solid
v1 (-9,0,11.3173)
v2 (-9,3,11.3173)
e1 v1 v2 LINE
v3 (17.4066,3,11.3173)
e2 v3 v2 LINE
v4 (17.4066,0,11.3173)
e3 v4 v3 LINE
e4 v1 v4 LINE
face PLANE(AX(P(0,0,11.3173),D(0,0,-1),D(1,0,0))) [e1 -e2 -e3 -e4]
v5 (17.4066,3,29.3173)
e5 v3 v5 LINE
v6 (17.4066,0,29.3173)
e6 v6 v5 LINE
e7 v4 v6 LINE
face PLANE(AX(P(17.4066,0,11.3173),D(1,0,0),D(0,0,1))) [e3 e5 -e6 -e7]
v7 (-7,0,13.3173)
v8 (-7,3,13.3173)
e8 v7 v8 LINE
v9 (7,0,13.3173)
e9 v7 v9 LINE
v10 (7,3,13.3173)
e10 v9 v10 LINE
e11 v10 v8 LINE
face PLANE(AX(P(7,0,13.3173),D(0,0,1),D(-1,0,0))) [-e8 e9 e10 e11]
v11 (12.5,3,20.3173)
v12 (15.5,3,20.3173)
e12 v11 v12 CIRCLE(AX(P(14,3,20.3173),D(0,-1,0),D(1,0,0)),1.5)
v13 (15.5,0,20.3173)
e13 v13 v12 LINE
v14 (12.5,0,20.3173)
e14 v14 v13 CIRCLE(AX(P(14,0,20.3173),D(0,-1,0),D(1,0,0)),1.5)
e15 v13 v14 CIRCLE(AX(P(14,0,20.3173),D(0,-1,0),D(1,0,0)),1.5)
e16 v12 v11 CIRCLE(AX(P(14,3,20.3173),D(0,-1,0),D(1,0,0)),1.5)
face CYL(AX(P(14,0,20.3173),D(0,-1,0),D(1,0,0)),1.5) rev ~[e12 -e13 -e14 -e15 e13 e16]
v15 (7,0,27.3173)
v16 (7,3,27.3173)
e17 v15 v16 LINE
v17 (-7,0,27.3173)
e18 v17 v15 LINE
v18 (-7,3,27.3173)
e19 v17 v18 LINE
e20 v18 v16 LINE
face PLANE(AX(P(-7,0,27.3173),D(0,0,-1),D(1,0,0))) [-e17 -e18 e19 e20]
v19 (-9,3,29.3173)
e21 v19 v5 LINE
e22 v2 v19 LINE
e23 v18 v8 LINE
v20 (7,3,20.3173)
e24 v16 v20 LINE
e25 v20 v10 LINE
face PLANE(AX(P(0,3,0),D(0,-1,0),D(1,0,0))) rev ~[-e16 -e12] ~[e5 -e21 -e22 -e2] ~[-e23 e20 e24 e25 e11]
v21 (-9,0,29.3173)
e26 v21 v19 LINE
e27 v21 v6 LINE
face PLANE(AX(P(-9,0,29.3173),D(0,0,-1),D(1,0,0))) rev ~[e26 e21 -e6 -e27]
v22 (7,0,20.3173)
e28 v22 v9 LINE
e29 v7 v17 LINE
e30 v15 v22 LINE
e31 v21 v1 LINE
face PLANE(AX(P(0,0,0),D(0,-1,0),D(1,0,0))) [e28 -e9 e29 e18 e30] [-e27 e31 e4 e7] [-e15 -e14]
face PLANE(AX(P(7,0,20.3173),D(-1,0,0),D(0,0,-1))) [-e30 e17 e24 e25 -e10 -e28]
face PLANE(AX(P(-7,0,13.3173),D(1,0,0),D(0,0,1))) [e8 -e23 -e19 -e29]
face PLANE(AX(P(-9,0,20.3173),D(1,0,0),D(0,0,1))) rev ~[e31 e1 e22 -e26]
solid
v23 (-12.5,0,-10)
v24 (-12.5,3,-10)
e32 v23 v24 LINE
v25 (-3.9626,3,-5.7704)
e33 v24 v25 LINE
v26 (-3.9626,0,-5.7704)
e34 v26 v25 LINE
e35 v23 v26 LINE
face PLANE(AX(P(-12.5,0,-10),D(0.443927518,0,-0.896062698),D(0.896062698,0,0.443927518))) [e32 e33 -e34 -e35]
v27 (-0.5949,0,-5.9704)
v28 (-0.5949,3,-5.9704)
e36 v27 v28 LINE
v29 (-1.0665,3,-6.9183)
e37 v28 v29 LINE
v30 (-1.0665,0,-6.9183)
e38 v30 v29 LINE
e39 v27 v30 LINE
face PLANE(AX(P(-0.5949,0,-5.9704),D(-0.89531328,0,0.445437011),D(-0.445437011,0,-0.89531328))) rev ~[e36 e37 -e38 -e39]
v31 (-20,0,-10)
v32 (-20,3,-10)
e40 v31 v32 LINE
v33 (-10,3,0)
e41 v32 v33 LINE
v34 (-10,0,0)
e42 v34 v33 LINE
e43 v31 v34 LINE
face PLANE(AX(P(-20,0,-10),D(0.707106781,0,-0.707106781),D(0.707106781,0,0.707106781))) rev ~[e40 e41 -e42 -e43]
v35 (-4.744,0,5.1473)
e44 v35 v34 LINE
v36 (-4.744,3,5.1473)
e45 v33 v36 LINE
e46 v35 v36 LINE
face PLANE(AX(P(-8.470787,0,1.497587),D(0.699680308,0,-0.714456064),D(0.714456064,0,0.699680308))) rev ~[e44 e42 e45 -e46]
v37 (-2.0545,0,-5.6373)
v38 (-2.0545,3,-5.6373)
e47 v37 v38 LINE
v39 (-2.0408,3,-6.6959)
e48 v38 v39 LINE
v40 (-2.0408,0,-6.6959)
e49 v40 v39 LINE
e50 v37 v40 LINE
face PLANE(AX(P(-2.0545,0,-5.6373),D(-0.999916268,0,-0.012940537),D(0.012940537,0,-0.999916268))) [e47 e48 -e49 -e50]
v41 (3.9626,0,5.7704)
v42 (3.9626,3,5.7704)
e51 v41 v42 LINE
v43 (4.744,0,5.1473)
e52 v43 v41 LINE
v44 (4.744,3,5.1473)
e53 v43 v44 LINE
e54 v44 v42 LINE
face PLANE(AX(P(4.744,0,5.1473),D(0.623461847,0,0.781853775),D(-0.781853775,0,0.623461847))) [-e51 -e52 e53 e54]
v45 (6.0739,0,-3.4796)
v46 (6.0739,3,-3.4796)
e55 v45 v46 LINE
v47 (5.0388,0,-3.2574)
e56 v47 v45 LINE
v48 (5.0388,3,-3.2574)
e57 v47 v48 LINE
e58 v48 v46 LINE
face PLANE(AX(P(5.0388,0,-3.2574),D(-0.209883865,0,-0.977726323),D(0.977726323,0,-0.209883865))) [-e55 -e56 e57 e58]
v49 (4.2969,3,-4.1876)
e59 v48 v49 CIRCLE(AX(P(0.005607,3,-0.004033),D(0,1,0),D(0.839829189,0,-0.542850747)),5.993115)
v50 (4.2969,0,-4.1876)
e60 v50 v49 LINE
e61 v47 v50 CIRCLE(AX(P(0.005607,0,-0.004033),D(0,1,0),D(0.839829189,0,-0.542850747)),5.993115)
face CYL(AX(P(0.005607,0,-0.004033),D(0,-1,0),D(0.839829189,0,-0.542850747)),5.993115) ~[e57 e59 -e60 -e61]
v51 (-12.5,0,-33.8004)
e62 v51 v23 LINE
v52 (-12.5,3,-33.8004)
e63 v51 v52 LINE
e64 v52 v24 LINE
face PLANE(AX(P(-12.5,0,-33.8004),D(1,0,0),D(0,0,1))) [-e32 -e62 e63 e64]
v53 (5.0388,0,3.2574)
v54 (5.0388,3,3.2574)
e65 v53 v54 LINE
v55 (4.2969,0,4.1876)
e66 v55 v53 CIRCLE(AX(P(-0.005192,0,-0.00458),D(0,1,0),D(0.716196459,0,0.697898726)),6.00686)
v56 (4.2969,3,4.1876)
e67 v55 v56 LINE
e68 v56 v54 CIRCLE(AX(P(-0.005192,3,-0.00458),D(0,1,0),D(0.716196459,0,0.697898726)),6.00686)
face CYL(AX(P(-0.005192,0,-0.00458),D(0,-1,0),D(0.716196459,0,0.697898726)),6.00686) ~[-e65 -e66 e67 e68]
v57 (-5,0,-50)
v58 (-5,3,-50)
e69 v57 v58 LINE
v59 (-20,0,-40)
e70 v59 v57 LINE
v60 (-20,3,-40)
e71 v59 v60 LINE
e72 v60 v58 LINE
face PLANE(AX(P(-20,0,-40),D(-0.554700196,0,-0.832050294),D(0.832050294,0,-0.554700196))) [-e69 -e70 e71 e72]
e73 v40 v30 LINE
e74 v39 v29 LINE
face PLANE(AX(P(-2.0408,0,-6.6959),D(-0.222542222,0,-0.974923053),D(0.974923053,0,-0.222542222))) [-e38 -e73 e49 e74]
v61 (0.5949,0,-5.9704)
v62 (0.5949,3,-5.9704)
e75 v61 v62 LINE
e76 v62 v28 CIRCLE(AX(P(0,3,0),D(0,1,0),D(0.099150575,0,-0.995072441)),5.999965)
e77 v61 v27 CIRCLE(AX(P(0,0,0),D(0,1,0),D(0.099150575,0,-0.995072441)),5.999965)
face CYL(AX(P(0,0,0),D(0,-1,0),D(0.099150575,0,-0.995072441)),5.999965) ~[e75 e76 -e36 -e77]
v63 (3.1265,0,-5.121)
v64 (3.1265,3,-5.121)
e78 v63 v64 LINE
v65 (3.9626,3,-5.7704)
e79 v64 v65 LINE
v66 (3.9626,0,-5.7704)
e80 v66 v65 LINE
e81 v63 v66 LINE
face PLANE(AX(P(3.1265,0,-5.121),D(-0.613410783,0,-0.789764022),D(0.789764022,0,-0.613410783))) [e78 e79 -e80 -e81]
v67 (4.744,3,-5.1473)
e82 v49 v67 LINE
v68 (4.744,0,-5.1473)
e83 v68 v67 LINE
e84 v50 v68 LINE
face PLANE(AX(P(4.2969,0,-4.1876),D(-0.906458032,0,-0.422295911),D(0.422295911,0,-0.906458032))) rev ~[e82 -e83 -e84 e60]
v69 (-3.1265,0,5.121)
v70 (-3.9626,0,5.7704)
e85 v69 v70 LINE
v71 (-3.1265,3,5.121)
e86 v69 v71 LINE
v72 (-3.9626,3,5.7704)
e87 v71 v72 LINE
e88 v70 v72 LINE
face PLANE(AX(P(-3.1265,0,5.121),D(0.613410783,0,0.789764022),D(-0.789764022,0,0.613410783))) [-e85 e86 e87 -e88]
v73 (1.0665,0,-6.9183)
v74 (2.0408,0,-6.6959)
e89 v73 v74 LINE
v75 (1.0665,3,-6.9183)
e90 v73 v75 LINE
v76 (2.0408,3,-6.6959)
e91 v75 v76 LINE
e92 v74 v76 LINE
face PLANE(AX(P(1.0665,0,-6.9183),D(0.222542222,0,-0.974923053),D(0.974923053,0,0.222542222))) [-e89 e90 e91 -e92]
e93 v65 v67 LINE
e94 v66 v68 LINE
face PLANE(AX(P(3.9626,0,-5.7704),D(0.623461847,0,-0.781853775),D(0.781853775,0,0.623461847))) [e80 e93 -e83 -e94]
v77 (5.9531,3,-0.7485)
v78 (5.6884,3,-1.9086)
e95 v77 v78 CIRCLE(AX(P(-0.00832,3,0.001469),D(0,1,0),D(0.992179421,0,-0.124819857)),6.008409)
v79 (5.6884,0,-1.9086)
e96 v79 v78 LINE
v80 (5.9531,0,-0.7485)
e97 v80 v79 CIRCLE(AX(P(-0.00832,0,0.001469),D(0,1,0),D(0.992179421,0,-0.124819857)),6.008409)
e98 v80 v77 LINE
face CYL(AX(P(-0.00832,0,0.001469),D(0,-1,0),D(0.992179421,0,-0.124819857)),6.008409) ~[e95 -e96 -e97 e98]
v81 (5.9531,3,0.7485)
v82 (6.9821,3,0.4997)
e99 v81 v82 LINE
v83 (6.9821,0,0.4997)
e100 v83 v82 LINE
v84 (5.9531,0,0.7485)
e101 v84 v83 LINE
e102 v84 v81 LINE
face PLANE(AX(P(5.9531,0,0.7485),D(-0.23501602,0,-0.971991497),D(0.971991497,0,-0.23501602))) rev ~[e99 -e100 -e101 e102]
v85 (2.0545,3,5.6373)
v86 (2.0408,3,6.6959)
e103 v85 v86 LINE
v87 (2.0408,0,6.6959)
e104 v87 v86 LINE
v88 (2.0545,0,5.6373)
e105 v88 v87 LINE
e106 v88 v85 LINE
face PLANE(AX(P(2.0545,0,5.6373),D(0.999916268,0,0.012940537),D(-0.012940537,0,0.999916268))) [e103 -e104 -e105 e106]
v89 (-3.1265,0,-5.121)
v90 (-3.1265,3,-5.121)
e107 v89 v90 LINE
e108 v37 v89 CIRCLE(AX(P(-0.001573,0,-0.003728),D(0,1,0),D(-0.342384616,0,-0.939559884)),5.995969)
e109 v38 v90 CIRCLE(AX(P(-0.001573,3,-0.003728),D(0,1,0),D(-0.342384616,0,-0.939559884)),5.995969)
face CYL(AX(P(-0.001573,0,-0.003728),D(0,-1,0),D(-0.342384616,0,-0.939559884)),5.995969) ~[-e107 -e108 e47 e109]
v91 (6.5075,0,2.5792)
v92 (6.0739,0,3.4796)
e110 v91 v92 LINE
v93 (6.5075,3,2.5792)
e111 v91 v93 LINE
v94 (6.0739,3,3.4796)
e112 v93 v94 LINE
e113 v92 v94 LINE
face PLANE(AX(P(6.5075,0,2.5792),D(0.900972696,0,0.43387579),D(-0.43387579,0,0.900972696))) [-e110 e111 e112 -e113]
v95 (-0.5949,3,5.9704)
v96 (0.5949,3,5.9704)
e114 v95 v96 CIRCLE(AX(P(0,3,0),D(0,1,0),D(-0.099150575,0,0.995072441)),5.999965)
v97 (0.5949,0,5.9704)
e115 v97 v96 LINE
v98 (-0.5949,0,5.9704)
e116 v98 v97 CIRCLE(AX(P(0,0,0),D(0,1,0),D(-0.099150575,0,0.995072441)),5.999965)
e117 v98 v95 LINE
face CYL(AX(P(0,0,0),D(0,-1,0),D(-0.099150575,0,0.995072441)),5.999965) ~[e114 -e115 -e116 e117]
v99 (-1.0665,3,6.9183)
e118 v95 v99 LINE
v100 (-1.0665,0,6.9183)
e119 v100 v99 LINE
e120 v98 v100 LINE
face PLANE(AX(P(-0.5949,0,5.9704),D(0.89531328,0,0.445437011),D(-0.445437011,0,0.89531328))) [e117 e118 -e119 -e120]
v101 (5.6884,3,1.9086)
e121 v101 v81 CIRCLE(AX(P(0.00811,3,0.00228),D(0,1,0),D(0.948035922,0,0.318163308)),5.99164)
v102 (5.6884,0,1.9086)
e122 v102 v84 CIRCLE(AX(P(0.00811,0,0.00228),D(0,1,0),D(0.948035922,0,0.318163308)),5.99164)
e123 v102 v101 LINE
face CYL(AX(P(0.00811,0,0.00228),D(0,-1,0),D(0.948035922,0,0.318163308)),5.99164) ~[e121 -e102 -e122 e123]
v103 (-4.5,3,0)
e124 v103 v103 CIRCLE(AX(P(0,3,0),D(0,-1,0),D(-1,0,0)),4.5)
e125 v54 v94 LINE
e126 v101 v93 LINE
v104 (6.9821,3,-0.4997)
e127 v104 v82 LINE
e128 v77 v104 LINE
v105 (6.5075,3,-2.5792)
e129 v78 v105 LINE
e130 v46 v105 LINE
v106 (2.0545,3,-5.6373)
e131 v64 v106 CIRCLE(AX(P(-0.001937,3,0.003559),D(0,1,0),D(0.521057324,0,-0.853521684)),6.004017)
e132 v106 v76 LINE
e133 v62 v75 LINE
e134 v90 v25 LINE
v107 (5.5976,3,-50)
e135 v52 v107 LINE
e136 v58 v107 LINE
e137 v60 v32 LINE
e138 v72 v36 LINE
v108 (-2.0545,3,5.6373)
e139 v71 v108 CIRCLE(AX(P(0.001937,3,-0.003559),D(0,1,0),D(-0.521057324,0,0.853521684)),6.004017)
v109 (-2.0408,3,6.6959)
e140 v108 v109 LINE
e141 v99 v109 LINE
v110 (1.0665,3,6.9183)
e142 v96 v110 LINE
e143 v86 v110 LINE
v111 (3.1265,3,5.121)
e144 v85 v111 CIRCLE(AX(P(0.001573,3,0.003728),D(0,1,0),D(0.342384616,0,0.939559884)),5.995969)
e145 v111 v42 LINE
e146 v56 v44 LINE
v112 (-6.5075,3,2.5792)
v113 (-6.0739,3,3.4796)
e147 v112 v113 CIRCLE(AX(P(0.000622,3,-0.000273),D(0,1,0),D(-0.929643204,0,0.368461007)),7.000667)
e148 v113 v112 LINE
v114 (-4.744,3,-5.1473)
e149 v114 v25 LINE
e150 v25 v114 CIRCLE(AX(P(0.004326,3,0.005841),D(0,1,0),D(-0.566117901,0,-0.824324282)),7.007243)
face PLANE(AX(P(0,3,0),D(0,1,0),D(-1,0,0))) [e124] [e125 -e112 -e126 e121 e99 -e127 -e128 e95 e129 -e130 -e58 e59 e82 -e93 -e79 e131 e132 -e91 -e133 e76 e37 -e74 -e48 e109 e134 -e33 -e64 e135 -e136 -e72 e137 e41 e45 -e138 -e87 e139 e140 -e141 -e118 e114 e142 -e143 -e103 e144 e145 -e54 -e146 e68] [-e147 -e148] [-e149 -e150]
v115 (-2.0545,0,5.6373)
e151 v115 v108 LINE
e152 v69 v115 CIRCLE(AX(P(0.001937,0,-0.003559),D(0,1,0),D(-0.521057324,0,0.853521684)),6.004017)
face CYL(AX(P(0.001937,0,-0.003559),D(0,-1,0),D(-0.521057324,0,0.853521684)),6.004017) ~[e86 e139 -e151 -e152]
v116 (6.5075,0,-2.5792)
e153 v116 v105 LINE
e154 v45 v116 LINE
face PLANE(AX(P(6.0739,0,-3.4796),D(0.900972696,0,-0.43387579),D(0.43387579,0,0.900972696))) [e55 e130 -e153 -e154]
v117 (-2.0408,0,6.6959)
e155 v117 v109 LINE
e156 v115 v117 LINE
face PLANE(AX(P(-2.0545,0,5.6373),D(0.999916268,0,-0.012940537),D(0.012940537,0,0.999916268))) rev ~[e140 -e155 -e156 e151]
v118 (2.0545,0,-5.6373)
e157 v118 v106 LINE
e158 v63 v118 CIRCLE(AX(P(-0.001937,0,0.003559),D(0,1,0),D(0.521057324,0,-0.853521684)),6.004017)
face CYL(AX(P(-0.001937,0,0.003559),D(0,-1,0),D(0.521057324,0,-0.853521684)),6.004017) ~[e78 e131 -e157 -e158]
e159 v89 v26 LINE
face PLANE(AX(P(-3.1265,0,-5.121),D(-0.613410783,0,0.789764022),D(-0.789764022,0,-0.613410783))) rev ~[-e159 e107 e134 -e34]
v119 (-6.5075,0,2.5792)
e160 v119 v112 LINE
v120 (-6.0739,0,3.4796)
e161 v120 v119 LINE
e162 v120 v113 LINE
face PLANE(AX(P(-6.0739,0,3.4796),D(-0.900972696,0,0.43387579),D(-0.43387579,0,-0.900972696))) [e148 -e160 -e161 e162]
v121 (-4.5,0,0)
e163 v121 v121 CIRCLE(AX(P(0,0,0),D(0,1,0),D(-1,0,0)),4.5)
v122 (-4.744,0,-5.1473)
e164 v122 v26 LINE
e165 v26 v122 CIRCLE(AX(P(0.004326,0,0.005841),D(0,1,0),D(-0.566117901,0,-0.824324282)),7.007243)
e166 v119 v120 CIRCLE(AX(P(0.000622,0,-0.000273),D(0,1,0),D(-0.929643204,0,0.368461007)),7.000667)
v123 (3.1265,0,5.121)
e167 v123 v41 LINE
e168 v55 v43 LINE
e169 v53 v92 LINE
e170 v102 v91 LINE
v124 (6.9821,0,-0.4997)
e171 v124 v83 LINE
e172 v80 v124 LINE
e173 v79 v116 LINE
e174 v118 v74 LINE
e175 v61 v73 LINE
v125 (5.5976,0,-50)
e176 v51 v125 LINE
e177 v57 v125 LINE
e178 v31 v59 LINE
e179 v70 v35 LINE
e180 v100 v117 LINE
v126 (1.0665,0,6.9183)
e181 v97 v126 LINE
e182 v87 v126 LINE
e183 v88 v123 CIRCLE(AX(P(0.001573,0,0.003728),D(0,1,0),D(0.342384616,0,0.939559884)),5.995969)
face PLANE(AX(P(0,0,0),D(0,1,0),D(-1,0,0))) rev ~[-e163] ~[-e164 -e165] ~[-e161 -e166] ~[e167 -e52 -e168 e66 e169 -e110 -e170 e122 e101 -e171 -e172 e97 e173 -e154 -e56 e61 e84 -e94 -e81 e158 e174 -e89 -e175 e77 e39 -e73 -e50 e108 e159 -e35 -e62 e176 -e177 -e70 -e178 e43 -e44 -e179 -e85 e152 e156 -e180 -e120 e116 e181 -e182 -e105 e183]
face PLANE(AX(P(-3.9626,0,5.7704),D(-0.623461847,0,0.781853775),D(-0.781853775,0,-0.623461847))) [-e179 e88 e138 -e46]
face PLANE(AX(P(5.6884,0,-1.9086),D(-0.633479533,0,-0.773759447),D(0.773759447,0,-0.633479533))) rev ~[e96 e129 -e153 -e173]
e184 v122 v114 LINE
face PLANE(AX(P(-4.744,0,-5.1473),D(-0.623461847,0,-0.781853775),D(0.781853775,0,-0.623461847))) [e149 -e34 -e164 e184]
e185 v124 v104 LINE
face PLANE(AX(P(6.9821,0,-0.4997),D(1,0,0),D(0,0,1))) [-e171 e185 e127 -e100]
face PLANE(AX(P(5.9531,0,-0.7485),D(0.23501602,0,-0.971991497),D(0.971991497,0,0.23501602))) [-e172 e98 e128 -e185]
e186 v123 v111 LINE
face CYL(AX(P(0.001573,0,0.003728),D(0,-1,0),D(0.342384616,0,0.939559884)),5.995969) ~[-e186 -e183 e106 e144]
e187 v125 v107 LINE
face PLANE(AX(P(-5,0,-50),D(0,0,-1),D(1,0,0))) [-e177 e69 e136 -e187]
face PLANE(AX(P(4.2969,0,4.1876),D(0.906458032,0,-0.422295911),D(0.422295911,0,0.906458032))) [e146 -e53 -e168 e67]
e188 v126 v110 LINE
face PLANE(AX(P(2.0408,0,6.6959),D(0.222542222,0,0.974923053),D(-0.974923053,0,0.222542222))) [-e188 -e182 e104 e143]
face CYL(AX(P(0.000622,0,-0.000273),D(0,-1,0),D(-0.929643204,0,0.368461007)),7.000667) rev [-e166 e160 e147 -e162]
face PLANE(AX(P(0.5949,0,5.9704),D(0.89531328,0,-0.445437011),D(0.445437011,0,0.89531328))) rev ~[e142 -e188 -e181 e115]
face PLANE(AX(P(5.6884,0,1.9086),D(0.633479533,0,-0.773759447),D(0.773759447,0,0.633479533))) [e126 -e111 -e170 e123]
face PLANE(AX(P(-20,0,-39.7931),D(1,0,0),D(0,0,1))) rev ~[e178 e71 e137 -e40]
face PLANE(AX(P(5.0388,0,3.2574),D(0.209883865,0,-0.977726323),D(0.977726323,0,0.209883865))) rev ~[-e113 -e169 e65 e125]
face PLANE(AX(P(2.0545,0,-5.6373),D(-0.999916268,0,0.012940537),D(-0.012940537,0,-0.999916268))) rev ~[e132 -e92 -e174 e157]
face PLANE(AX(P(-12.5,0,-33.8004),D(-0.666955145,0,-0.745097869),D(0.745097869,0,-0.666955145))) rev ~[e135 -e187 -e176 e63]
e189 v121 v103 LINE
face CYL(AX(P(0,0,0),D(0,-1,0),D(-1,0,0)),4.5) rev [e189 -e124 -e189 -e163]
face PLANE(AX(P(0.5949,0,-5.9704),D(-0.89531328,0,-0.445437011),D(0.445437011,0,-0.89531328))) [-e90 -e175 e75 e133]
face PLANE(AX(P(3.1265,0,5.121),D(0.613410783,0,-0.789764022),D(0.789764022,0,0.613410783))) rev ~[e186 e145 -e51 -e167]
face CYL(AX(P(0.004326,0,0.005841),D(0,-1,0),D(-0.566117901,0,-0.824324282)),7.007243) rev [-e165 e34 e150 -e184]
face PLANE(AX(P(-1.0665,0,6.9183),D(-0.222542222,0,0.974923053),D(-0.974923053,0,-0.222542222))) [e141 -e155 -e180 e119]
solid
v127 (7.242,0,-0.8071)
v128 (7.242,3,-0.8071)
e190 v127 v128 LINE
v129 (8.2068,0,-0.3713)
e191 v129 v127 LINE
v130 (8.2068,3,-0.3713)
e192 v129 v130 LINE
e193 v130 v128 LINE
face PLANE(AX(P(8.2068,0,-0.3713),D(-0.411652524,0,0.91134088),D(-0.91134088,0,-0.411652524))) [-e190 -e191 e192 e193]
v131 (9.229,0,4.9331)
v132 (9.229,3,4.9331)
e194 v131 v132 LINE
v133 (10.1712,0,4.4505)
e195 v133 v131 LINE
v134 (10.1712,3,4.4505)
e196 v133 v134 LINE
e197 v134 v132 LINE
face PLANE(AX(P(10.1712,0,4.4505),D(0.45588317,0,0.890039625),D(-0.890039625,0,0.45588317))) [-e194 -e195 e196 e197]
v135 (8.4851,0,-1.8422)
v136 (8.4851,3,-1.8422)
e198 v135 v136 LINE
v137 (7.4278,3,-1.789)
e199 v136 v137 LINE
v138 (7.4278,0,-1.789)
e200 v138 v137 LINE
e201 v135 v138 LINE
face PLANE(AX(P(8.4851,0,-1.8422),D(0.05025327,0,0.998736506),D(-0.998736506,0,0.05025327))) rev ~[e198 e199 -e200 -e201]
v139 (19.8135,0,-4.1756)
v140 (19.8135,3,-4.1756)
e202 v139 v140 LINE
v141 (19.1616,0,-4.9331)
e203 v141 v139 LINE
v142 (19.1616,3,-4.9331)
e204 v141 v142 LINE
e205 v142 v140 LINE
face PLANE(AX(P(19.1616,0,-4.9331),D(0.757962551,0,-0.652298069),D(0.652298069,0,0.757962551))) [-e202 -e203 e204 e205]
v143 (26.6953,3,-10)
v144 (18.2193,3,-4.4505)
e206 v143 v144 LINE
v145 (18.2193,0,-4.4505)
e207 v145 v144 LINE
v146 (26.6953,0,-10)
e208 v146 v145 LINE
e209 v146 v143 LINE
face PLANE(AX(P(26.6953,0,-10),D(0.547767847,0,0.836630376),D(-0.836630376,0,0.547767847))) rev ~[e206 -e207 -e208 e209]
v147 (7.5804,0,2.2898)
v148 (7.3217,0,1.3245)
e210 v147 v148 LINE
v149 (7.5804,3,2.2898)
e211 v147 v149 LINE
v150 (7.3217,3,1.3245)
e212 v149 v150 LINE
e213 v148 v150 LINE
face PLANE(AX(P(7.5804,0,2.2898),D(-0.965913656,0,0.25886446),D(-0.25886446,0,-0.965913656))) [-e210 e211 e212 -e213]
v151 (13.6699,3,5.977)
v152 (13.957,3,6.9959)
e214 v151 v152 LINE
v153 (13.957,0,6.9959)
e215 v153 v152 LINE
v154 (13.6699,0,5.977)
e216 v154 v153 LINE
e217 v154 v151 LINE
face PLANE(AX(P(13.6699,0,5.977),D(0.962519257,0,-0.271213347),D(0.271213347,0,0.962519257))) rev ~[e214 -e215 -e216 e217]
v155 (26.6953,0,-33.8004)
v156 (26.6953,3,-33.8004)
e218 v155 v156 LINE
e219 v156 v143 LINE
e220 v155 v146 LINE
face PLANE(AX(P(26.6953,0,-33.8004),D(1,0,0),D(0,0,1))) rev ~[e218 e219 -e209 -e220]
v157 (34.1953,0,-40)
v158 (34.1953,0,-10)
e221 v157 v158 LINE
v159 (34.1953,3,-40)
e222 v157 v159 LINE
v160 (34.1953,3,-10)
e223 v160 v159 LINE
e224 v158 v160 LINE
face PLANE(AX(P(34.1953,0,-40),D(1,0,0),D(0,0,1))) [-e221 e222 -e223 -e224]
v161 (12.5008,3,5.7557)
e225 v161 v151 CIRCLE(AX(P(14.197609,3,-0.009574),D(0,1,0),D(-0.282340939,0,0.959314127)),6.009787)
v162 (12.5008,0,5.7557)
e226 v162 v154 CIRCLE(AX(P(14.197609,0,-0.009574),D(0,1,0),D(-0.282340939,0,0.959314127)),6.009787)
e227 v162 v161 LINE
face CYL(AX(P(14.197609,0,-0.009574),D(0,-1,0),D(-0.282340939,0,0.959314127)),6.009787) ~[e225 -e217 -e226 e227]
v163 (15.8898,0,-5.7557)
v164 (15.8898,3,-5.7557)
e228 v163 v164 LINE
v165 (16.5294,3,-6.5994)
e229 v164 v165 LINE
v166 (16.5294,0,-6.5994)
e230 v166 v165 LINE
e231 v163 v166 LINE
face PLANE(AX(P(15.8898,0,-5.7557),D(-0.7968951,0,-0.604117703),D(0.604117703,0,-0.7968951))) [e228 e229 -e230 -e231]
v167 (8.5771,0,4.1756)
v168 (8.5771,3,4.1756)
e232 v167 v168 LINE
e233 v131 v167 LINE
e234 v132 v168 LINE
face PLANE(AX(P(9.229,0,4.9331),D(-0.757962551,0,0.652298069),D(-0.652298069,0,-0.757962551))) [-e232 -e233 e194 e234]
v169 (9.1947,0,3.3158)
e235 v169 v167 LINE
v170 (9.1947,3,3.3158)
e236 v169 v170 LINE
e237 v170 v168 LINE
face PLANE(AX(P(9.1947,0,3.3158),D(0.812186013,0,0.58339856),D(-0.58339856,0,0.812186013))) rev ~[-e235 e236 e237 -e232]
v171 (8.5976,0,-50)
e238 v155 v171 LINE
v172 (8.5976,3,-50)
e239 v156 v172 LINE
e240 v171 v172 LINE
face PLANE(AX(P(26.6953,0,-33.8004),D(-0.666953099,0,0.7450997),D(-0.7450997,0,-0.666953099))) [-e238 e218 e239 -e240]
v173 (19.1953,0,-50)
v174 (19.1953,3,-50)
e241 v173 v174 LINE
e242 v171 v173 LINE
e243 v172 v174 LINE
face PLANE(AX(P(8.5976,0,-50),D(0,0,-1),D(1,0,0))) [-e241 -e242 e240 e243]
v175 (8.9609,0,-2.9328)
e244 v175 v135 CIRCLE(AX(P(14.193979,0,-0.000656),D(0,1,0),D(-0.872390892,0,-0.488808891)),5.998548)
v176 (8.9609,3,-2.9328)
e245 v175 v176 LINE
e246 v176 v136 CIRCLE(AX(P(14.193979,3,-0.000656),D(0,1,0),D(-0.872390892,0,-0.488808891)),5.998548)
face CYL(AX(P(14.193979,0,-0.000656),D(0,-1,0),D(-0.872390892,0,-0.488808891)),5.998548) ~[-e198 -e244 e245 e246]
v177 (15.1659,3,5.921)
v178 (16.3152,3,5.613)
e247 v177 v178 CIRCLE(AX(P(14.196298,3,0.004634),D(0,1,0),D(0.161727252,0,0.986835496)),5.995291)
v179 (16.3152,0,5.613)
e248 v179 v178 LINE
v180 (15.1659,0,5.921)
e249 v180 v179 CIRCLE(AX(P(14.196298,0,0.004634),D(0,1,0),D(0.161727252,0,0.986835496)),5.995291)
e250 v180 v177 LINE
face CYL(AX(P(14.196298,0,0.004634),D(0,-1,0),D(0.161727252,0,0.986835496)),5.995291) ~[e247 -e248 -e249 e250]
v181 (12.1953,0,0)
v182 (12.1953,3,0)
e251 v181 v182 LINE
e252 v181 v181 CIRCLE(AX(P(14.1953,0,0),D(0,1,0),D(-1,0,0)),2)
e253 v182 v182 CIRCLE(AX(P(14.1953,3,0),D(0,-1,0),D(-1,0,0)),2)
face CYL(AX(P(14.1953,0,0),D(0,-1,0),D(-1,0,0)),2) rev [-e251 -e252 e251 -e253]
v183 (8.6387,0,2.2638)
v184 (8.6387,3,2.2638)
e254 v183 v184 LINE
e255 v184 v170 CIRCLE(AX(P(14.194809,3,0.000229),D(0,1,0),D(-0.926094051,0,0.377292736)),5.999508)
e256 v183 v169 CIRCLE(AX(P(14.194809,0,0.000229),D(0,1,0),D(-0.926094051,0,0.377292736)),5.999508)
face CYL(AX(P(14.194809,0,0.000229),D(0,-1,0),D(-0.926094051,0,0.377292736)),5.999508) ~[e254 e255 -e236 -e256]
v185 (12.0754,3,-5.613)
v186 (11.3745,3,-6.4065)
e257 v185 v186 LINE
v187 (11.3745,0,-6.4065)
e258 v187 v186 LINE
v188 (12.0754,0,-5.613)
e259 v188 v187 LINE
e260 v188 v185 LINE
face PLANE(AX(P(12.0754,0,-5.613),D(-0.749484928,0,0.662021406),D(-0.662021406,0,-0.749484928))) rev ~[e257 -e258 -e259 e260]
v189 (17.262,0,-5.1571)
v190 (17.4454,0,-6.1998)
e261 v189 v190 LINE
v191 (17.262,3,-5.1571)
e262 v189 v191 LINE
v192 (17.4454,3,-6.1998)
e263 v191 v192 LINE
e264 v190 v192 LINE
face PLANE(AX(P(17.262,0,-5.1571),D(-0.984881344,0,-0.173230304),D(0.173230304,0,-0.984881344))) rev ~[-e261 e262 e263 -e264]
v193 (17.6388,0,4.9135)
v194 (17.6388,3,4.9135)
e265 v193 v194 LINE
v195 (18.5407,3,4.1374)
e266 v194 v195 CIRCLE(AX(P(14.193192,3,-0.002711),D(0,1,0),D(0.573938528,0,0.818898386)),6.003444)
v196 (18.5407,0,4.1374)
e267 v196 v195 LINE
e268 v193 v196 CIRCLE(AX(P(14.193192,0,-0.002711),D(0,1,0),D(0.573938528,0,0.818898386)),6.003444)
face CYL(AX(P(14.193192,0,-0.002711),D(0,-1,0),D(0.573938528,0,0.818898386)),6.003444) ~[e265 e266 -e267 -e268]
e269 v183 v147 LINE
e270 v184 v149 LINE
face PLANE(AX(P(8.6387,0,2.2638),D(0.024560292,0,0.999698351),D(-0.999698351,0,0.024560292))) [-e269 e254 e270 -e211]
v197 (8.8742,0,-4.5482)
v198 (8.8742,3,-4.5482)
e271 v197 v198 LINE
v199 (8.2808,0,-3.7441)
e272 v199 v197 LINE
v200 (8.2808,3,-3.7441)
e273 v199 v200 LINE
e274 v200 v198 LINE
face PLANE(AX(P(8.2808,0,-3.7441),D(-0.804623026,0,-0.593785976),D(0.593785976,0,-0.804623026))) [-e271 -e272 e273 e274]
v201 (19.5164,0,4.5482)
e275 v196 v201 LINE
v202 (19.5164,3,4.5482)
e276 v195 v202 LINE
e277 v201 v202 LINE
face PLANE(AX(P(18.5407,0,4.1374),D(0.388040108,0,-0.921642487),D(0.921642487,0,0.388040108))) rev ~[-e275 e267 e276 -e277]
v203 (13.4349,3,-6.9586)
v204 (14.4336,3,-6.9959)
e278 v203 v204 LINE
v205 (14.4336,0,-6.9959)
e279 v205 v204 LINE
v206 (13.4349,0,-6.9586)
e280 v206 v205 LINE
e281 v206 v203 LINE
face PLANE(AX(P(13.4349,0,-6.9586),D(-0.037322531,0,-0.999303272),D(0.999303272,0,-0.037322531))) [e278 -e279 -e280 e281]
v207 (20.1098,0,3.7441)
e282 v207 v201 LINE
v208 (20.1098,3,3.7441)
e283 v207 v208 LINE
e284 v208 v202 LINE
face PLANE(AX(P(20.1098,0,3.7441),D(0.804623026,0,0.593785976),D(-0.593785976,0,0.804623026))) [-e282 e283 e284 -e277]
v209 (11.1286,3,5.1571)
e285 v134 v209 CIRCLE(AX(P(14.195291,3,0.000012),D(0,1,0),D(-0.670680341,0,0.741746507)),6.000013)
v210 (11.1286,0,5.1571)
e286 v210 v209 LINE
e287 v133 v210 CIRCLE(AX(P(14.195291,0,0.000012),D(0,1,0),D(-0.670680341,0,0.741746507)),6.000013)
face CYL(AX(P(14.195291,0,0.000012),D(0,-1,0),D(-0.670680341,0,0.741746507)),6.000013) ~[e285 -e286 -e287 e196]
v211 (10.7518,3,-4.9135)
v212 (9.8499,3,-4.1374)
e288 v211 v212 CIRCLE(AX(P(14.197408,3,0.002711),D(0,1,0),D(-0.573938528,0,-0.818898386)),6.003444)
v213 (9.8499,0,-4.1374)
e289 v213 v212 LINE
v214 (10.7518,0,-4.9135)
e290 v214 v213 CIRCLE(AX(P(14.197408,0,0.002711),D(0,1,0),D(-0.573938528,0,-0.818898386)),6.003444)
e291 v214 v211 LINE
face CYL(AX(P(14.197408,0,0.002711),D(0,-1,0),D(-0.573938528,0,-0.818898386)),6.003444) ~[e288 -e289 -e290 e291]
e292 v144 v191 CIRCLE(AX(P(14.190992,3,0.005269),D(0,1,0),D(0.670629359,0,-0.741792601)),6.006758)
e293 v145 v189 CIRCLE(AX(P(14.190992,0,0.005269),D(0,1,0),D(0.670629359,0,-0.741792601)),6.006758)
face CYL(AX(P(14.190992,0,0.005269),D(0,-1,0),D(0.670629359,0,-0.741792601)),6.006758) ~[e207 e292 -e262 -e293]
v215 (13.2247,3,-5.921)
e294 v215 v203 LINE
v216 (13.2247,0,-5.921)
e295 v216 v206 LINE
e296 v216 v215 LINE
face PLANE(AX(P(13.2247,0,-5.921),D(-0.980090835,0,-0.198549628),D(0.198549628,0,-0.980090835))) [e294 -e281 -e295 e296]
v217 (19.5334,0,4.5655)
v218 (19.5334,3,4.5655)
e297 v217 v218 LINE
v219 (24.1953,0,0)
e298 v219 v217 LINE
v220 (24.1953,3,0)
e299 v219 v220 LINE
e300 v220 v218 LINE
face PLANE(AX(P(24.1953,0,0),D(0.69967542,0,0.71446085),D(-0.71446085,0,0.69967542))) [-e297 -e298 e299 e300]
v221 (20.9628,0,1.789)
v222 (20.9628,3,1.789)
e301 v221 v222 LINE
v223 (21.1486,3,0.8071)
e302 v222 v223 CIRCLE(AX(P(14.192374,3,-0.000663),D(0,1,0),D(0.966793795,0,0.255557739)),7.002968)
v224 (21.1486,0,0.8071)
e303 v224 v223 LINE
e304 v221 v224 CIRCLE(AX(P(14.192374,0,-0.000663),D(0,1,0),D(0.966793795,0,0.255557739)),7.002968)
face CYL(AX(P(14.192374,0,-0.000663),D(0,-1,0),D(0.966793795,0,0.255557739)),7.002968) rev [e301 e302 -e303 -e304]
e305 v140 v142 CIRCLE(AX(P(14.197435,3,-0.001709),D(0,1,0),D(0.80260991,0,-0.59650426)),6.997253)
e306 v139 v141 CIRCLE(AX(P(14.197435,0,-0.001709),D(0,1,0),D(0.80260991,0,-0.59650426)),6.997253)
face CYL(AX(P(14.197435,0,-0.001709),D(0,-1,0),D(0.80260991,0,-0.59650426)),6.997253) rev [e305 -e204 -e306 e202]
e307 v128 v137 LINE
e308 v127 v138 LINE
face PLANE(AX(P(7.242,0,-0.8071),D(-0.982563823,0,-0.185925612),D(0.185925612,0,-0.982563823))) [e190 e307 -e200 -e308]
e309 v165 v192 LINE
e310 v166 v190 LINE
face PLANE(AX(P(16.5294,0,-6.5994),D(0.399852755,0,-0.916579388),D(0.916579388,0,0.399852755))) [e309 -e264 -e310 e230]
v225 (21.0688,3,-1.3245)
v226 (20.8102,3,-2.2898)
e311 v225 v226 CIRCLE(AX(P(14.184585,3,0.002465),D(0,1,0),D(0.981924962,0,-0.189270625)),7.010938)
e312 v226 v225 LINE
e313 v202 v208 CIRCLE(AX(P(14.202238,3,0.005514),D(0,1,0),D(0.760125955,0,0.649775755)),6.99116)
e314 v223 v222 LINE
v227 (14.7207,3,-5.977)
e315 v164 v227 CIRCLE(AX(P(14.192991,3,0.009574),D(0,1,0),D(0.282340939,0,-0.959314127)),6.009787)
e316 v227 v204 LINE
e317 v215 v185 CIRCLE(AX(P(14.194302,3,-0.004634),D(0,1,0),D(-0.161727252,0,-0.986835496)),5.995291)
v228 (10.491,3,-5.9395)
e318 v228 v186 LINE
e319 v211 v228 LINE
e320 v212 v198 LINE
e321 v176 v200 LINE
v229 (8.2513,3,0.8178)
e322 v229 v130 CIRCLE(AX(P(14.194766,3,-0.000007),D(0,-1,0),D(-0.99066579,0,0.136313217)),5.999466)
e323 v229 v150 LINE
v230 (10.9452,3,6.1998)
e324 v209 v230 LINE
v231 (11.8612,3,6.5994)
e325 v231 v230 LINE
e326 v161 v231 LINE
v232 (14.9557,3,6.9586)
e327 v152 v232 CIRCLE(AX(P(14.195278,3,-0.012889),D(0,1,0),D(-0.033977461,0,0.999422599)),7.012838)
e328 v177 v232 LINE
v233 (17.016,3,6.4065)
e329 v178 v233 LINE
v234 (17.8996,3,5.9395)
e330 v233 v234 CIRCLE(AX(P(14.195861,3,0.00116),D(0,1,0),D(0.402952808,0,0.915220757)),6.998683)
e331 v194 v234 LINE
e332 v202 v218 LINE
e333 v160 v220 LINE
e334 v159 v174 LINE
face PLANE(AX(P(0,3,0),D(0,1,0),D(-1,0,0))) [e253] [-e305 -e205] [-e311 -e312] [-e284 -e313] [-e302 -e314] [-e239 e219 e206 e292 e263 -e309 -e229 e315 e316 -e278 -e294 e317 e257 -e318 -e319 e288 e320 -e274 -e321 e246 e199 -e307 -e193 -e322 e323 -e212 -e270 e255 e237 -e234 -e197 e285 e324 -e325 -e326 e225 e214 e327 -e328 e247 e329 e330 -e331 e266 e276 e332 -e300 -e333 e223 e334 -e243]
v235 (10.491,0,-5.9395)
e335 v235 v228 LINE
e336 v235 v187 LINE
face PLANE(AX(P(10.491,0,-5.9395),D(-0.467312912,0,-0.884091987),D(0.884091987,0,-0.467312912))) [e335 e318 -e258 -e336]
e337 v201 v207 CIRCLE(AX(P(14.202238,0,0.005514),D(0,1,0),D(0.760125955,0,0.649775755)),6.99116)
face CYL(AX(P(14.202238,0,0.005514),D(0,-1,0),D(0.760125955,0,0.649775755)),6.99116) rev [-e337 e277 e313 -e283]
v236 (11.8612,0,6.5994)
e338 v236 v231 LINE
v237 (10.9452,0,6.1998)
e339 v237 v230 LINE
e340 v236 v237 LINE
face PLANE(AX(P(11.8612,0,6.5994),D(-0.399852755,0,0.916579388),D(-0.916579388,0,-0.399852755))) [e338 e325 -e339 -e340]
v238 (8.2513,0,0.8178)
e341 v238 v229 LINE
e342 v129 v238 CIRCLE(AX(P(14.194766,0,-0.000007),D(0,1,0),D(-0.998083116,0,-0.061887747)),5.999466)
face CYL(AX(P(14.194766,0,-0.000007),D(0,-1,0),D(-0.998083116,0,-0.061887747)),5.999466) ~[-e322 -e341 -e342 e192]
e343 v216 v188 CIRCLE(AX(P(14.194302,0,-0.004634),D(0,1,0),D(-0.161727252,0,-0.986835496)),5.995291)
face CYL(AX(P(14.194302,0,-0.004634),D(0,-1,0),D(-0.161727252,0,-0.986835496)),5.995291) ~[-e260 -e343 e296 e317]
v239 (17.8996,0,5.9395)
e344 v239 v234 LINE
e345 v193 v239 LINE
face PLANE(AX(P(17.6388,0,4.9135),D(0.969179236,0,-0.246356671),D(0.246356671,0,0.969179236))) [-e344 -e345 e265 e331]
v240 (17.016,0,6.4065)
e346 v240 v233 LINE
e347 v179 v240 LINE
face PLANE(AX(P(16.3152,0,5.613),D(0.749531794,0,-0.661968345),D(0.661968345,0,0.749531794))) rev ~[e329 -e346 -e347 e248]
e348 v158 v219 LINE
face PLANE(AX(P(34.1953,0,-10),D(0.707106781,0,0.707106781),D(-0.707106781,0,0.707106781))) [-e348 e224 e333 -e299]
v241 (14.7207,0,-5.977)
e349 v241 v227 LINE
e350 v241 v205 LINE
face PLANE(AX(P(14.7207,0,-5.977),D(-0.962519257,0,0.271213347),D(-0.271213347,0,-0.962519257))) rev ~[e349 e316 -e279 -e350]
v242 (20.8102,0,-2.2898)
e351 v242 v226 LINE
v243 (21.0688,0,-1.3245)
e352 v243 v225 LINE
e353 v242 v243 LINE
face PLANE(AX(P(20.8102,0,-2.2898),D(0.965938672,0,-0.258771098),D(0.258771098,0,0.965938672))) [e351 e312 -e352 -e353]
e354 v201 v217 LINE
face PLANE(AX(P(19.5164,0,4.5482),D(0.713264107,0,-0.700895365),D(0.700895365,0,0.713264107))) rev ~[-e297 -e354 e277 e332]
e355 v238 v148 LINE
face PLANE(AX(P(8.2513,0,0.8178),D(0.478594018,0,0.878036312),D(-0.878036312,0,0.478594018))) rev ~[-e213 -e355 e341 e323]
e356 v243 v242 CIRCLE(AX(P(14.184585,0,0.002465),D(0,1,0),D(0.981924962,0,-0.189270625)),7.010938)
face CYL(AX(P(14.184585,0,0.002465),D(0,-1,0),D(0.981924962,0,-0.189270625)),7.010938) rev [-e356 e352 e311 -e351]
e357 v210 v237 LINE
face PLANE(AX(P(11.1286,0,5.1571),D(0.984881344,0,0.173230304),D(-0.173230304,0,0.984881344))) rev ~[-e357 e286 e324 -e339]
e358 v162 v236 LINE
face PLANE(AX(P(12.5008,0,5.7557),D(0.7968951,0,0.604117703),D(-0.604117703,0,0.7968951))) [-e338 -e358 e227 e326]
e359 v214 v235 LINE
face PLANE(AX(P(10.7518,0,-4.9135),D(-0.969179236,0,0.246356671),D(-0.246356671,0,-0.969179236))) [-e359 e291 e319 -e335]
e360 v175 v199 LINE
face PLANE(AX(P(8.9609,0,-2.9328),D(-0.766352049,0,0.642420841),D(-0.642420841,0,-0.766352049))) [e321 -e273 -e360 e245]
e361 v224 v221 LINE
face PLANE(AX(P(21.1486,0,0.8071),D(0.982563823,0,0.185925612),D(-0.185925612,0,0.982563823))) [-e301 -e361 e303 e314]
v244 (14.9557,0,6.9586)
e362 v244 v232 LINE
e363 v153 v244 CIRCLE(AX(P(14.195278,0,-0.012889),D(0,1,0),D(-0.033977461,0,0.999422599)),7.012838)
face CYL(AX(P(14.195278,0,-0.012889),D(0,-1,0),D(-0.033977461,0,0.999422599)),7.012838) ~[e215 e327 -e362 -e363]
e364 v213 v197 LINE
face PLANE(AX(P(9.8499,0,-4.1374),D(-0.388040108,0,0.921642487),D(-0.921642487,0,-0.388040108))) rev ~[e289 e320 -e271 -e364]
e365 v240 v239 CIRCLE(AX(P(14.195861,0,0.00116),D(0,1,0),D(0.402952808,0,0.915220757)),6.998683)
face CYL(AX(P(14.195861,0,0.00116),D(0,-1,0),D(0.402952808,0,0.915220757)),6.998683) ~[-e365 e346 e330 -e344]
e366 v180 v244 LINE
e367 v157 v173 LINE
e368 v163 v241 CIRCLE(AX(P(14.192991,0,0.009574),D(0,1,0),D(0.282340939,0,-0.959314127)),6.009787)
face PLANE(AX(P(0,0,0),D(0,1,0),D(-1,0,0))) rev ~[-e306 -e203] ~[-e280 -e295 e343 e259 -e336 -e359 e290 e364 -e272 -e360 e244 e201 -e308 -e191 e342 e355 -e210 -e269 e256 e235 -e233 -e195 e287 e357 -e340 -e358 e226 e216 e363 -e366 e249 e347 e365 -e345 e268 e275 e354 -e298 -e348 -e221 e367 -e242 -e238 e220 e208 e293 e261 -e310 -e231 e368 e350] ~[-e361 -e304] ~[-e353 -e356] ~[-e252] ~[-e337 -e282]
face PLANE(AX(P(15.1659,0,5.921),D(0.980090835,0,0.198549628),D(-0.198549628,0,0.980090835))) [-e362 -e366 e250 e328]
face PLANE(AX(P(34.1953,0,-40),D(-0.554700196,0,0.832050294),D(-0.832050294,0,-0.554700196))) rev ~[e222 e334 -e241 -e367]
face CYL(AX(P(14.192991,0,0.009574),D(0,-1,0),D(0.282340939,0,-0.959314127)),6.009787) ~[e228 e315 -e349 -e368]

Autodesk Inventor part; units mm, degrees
ref_plane "YZ Plane" through (0, 0, 0) normal (1, 0, 0) x (0, 1, 0)
ref_plane "XZ Plane" through (0, 0, 0) normal (0, 1, 0) x (-1, 0, 0)
ref_plane "XY Plane" through (0, 0, 0) normal (0, 0, 1) x (1, 0, 0)
sketch "Boceto1" plane through (0, 0, 0) normal (0, 1, 0) x (-1, 0, 0)
  line L0 (6.9821, 0.4997) -> (6.9821, -0.4997)
  line L1 (5.9531, 0.7485) -> (6.9821, 0.4997)
  line L2 (5.9531, -0.7485) -> (6.9821, -0.4997)
  line L3 (5.0388, 3.2574) -> (6.0739, 3.4796)
  line L4 (5.6884, 1.9086) -> (6.5075, 2.5792)
  line L5 (6.0739, 3.4796) -> (6.5075, 2.5792)
  line L6 (3.1265, 5.121) -> (3.9626, 5.7704)
  line L7 (4.2969, 4.1876) -> (4.744, 5.1473)
  line L8 (3.9626, 5.7704) -> (4.744, 5.1473)
  line L9 (0.5949, 5.9704) -> (1.0665, 6.9183)
  line L10 (2.0545, 5.6373) -> (2.0408, 6.6959)
  line L11 (1.0665, 6.9183) -> (2.0408, 6.6959)
  line L12 (-2.0545, 5.6373) -> (-2.0408, 6.6959)
  line L13 (-0.5949, 5.9704) -> (-1.0665, 6.9183)
  line L14 (-2.0408, 6.6959) -> (-1.0665, 6.9183)
  line L15 (-4.2969, 4.1876) -> (-4.744, 5.1473)
  line L16 (-3.1265, 5.121) -> (-3.9626, 5.7704)
  line L17 (-4.744, 5.1473) -> (-3.9626, 5.7704)
  line L18 (-5.6884, 1.9086) -> (-6.5075, 2.5792)
  line L19 (-5.0388, 3.2574) -> (-6.0739, 3.4796)
  line L20 (-6.5075, 2.5792) -> (-6.0739, 3.4796)
  line L21 (-5.9531, -0.7485) -> (-6.9821, -0.4997)
  line L22 (-5.9531, 0.7485) -> (-6.9821, 0.4997)
  line L23 (-6.9821, -0.4997) -> (-6.9821, 0.4997)
  line L24 (-5.0388, -3.2574) -> (-6.0739, -3.4796)
  line L25 (-5.6884, -1.9086) -> (-6.5075, -2.5792)
  line L26 (-6.0739, -3.4796) -> (-6.5075, -2.5792)
  line L27 (-3.1265, -5.121) -> (-3.9626, -5.7704)
  line L28 (-4.2969, -4.1876) -> (-4.744, -5.1473)
  line L29 (-3.9626, -5.7704) -> (-4.744, -5.1473)
  line L30 (-0.5949, -5.9704) -> (-1.0665, -6.9183)
  line L31 (-2.0545, -5.6373) -> (-2.0408, -6.6959)
  line L32 (-1.0665, -6.9183) -> (-2.0408, -6.6959)
  line L33 (2.0545, -5.6373) -> (2.0408, -6.6959)
  line L34 (0.5949, -5.9704) -> (1.0665, -6.9183)
  line L35 (2.0408, -6.6959) -> (1.0665, -6.9183)
  line L36 (4.2969, -4.1876) -> (4.744, -5.1473)
  line L37 (3.1265, -5.121) -> (3.9626, -5.7704)
  line L38 (4.744, -5.1473) -> (3.9626, -5.7704)
  line L39 (5.6884, -1.9086) -> (6.5075, -2.5792)
  line L40 (5.0388, -3.2574) -> (6.0739, -3.4796)
  line L41 (6.5075, -2.5792) -> (6.0739, -3.4796)
  arc A0 (6.5075, 2.5792) -> (6.0739, 3.4796) centre (0, 0) ccw
  arc A1 (4.744, 5.1473) -> (3.9626, 5.7704) centre (0, 0) ccw
  arc A2 (5.9531, 0.7485) -> (5.6884, 1.9086) centre (0, 0) ccw
  arc A3 (5.6884, -1.9086) -> (5.9531, -0.7485) centre (0, 0) ccw
  arc A4 (4.2969, -4.1876) -> (5.0388, -3.2574) centre (0, 0) ccw
  arc A5 (3.9626, -5.7704) -> (4.744, -5.1473) centre (0, 0) ccw
  arc A6 (2.0545, -5.6373) -> (3.1265, -5.121) centre (0, 0) ccw
  arc A7 (1.0665, -6.9183) -> (2.0408, -6.6959) centre (0, 0) ccw
  arc A8 (-0.5949, -5.9704) -> (0.5949, -5.9704) centre (0, 0) ccw
  arc A9 (-2.0408, -6.6959) -> (-1.0665, -6.9183) centre (0, 0) ccw
  arc A10 (-3.1265, -5.121) -> (-2.0545, -5.6373) centre (0, 0) ccw
  arc A11 (-4.744, -5.1473) -> (-3.9626, -5.7704) centre (0, 0) ccw
  arc A12 (-5.0388, -3.2574) -> (-4.2969, -4.1876) centre (0, 0) ccw
  arc A13 (-6.5075, -2.5792) -> (-6.0739, -3.4796) centre (0, 0) ccw
  arc A14 (-5.9531, -0.7485) -> (-5.6884, -1.9086) centre (0, 0) ccw
  arc A15 (-6.9821, 0.4997) -> (-6.9821, -0.4997) centre (0, 0) ccw
  arc A16 (-5.6884, 1.9086) -> (-5.9531, 0.7485) centre (0, 0) ccw
  arc A17 (-6.0739, 3.4796) -> (-6.5075, 2.5792) centre (0, 0) ccw
  arc A18 (-4.2969, 4.1876) -> (-5.0388, 3.2574) centre (0, 0) ccw
  arc A19 (-3.9626, 5.7704) -> (-4.744, 5.1473) centre (0, 0) ccw
  arc A20 (-2.0545, 5.6373) -> (-3.1265, 5.121) centre (0, 0) ccw
  arc A21 (2.0408, 6.6959) -> (1.0665, 6.9183) centre (0, 0) ccw
  arc A22 (-1.0665, 6.9183) -> (-2.0408, 6.6959) centre (0, 0) ccw
  arc A23 (0.5949, 5.9704) -> (-0.5949, 5.9704) centre (0, 0) ccw
  arc A24 (5.0388, 3.2574) -> (4.2969, 4.1876) centre (0, 0) ccw
  arc A25 (3.1265, 5.121) -> (2.0545, 5.6373) centre (0, 0) ccw
  circle A26 centre (0, 0) radius 4.5
  line L42 (-7, 0) -> (-7.2, 0)
  line L43 (-7.2, 0) -> (-21.2, 0)
  line L44 (-7.5804, 2.2898) -> (-7.3217, 1.3245)
  line L45 (-8.6387, 2.2638) -> (-7.5804, 2.2898)
  line L46 (-8.2513, 0.8178) -> (-7.3217, 1.3245)
  line L47 (-10.1712, 4.4505) -> (-9.229, 4.9331)
  line L48 (-9.1947, 3.3158) -> (-8.5771, 4.1756)
  line L49 (-9.229, 4.9331) -> (-8.5771, 4.1756)
  line L50 (-12.5008, 5.7557) -> (-11.8612, 6.5994)
  line L51 (-11.1286, 5.1571) -> (-10.9452, 6.1998)
  line L52 (-11.8612, 6.5994) -> (-10.9452, 6.1998)
  line L53 (-15.1659, 5.921) -> (-14.9557, 6.9586)
  line L54 (-13.6699, 5.977) -> (-13.957, 6.9959)
  line L55 (-17.6388, 4.9135) -> (-17.8996, 5.9395)
  line L56 (-16.3152, 5.613) -> (-17.016, 6.4065)
  line L57 (-19.4297, 2.9328) -> (-20.1098, 3.7441)
  line L58 (-18.5407, 4.1374) -> (-19.5164, 4.5482)
  line L59 (-20.1098, 3.7441) -> (-19.5164, 4.5482)
  line L60 (-20.1838, 0.3713) -> (-21.1486, 0.8071)
  line L61 (-19.9055, 1.8422) -> (-20.9628, 1.789)
  line L62 (-21.1486, 0.8071) -> (-20.9628, 1.789)
  line L63 (-19.7518, -2.2638) -> (-20.8102, -2.2898)
  line L64 (-20.1393, -0.8178) -> (-21.0688, -1.3245)
  line L65 (-20.8102, -2.2898) -> (-21.0688, -1.3245)
  line L66 (-18.2193, -4.4505) -> (-19.1616, -4.9331)
  line L67 (-19.1958, -3.3158) -> (-19.8135, -4.1756)
  line L68 (-19.1616, -4.9331) -> (-19.8135, -4.1756)
  line L69 (-15.8898, -5.7557) -> (-16.5294, -6.5994)
  line L70 (-17.262, -5.1571) -> (-17.4454, -6.1998)
  line L71 (-16.5294, -6.5994) -> (-17.4454, -6.1998)
  line L72 (-13.2247, -5.921) -> (-13.4349, -6.9586)
  line L73 (-14.7207, -5.977) -> (-14.4336, -6.9959)
  line L74 (-13.4349, -6.9586) -> (-14.4336, -6.9959)
  line L75 (-10.7518, -4.9135) -> (-10.491, -5.9395)
  line L76 (-12.0754, -5.613) -> (-11.3745, -6.4065)
  line L77 (-10.491, -5.9395) -> (-11.3745, -6.4065)
  line L78 (-8.9609, -2.9328) -> (-8.2808, -3.7441)
  line L79 (-9.8499, -4.1374) -> (-8.8742, -4.5482)
  line L80 (-8.2808, -3.7441) -> (-8.8742, -4.5482)
  line L81 (-8.2068, -0.3713) -> (-7.242, -0.8071)
  line L82 (-8.4851, -1.8422) -> (-7.4278, -1.789)
  line L83 (-7.242, -0.8071) -> (-7.4278, -1.789)
  arc A27 (-8.5771, 4.1756) -> (-9.229, 4.9331) centre (-14.1953, 0) ccw
  arc A28 (-10.9452, 6.1998) -> (-11.8612, 6.5994) centre (-14.1953, 0) ccw
  arc A29 (-8.6387, 2.2638) -> (-9.1947, 3.3158) centre (-14.1953, 0) ccw
  arc A30 (-8.2068, -0.3713) -> (-8.2513, 0.8178) centre (-14.1953, 0) ccw
  arc A31 (-7.4278, -1.789) -> (-7.242, -0.8071) centre (-14.1953, 0) ccw
  arc A32 (-8.9609, -2.9328) -> (-8.4851, -1.8422) centre (-14.1953, 0) ccw
  arc A33 (-8.8742, -4.5482) -> (-8.2808, -3.7441) centre (-14.1953, 0) ccw
  arc A34 (-10.7518, -4.9135) -> (-9.8499, -4.1374) centre (-14.1953, 0) ccw
  arc A35 (-11.3745, -6.4065) -> (-10.491, -5.9395) centre (-14.1953, 0) ccw
  arc A36 (-13.2247, -5.921) -> (-12.0754, -5.613) centre (-14.1953, 0) ccw
  arc A37 (-14.4336, -6.9959) -> (-13.4349, -6.9586) centre (-14.1953, 0) ccw
  arc A38 (-15.8898, -5.7557) -> (-14.7207, -5.977) centre (-14.1953, 0) ccw
  arc A39 (-17.4454, -6.1998) -> (-16.5294, -6.5994) centre (-14.1953, 0) ccw
  arc A40 (-18.2193, -4.4505) -> (-17.262, -5.1571) centre (-14.1953, 0) ccw
  arc A41 (-19.8135, -4.1756) -> (-19.1616, -4.9331) centre (-14.1953, 0) ccw
  arc A42 (-19.7518, -2.2638) -> (-19.1958, -3.3158) centre (-14.1953, 0) ccw
  arc A43 (-21.0688, -1.3245) -> (-20.8102, -2.2898) centre (-14.1953, 0) ccw
  arc A44 (-20.1838, 0.3713) -> (-20.1393, -0.8178) centre (-14.1953, 0) ccw
  arc A45 (-20.9628, 1.789) -> (-21.1486, 0.8071) centre (-14.1953, 0) ccw
  arc A46 (-19.4297, 2.9328) -> (-19.9055, 1.8422) centre (-14.1953, 0) ccw
  arc A47 (-19.5164, 4.5482) -> (-20.1098, 3.7441) centre (-14.1953, 0) ccw
  arc A48 (-17.6388, 4.9135) -> (-18.5407, 4.1374) centre (-14.1953, 0) ccw
  arc A49 (-13.957, 6.9959) -> (-14.9557, 6.9586) centre (-14.1953, 0) ccw
  arc A50 (-17.016, 6.4065) -> (-17.8996, 5.9395) centre (-14.1953, 0) ccw
  arc A51 (-15.1659, 5.921) -> (-16.3152, 5.613) centre (-14.1953, 0) ccw
  arc A52 (-10.1712, 4.4505) -> (-11.1286, 5.1571) centre (-14.1953, 0) ccw
  arc A53 (-12.5008, 5.7557) -> (-13.6699, 5.977) centre (-14.1953, 0) ccw
  circle A54 centre (-14.1953, 0) radius 2
  line L84 (0, 0) -> (-2, 0)
  line L85 (-2, 0) -> (2, 0)
  line L86 (-14.1953, 0) -> (-16.1953, 0)
  line L87 (0, 0) -> (20, 0)
  line L88 (0, 0) -> (10, 0)
  line L89 (20, -10) -> (10, 0)
  line L90 (20, -40) -> (5, -50)
  line L91 (12.5, -33.8004) -> (12.5, -10)
  line L92 (12.5, -10) -> (4.0311, -2)
  line L93 (10, 0) -> (4.744, 5.1473)
  line L94 (20, -39.7931) -> (20, -10)
  line L95 (12.5, -33.8004) -> (-5.5976, -50)
  line L96 (-34.1953, -10) -> (-24.1953, 0)
  line L97 (-34.1953, -40) -> (-19.1953, -50)
  line L98 (-26.6953, -33.8004) -> (-26.6953, -10)
  line L99 (-24.1953, 0) -> (-19.2423, 4.8505)
  line L100 (-34.1953, -39.7931) -> (-34.1953, -10)
  line L101 (-26.6953, -33.8004) -> (-8.5976, -50)
  line L102 (-26.6953, -10) -> (-18.2193, -4.4505)
  line L103 (-19.3535, -3.0647) -> (-19.0804, -2.8067)
  line L104 (-18.5981, -2.3512) -> (-18.4725, -2.2324)
  line L105 (-18.3019, -2.0713) -> (-18.2264, -2)
  line L106 (5, -50) -> (-5.5976, -50)
  line L107 (-8.5976, -50) -> (-19.1953, -50)
  circle A55 centre (0, 0) radius 4.5
  line L108 (10, 0) -> (4.5, 0)
  line L109 (5.9249, -3.789) -> (8.4708, 1.4976)
  line L110 (5.9249, -3.789) -> (12.5, -10)
  line L111 (12.5, -10) -> (12.5, -33.8004)
  line L112 (12.5, -33.8004) -> (-5.5976, -50)
  line L113 (-5.5976, -50) -> (5, -50)
  line L114 (20, -39.7931) -> (20, -40)
  line L115 (-34.1953, -40) -> (-34.1953, -39.7931)
  line L116 (-19.5164, 4.5482) -> (-19.5334, 4.5655)
  line L117 (12.5, -10) -> (3.9626, -5.7704)
  point P0 (-20.9568, -1.8117)
  point P1 (-18.9393, 5.1473)
  point P2 (5.4573, -3.3472)
  dimension "d14" = 4
  dimension "d6" = 360
  dimension "d9" = 0.2
  dimension "d15" = 2
  dimension "d16" = 4
extrude "Extrusión1" add sketch "Boceto1" along normal blind 3 contours L1 A2 L4 A0 L3 A24 L7 L93 L109 L87 L0 | L0 L87 A26 L92 L40 A4 L36 L38 L37 A6 L33 L35 L34 A8 L30 L32 L31 A10 L27 L29 L28 A12 L24 L26 L25 A14 L21 L23 L22 A16 L18 L20 L19 A18 L15 L17 L16 A20 L12 L14 L13 A23 L9 L11 L10 A25 L6 L8 L7 A24 L3 L5 L4 A2 L1 | L87 L109 L39 A3 L2 L0 | L0 L2 A3 L39 L41 L40 L92 A26 L87 | L109 L93 L87 | L87 L89 L94 L114 L90 L106 L95 L91 L92 L109 L41 | A30 L81 L83 L82 A32 L78 L80 L79 A34 L75 L77 L76 A36 L72 L74 L73 A38 L69 L71 L70 A40 L66 L68 L67 A42 L63 L65 L64 A44 L43 A54 | L43 A54 A44 L60 L62 L61 A46 L57 L59 L58 A48 L55 A50 L56 A51 L53 A49 L54 A53 L50 L52 L51 A52 L47 L49 L48 A29 L45 L44 L46 A30 | L92 L117 A5 L36 A4 L40 | L40 L109 L92 | A44 L64 A43 L63 A42 L67 A41 L66 L102 L98 L101 L107 L97 L115 L100 L96 L99 L116 A47 L57 A46 L61 A45 L60
sketch "Boceto2" plane through (0, 0, 0) normal (0, -1, 0) x (1, 0, 0)
  line L0 (0, 0) -> (0, 20.3173)
  line L1 (0, 20.3173) -> (14, 20.3173)
  line L2 (0, 20.3173) -> (0, 13.3173)
  line L3 (0, 13.3173) -> (-7, 13.3173)
  line L4 (-7, 13.3173) -> (-7, 27.3173)
  line L5 (-7, 27.3173) -> (7, 27.3173)
  line L6 (7, 27.3173) -> (7, 13.3173)
  line L7 (7, 13.3173) -> (0, 13.3173)
  circle A0 centre (14, 20.3173) radius 1.5
  line L8 (-7, 20.3173) -> (-9, 20.3173)
  line L9 (-9, 20.3173) -> (-9, 11.3173)
  line L10 (-9, 11.3173) -> (19.3488, 11.3173)
  line L11 (-9, 20.3173) -> (-9, 29.3173)
  line L12 (-9, 29.3173) -> (21.7108, 29.3173)
  line L13 (17.4066, 11.3173) -> (17.4066, 29.3173)
  dimension "d26" = 14
  dimension "d27" = 7
  dimension "d28" = 7
  dimension "d29" = 14
  dimension "d30" = 14
  dimension "d31" = 14
  dimension "d32" = 3
  dimension "d33" = 2
  dimension "d34" = 9
  dimension "d35" = 9
extrude "Extrusión2" add sketch "Boceto2" against normal blind 3 contours L7 L6 L5 L4 L8 L11 L12 L13 L10 L0 | L0 L10 L9 L8 L4 L3
properties part number "Gripper_dentado"
